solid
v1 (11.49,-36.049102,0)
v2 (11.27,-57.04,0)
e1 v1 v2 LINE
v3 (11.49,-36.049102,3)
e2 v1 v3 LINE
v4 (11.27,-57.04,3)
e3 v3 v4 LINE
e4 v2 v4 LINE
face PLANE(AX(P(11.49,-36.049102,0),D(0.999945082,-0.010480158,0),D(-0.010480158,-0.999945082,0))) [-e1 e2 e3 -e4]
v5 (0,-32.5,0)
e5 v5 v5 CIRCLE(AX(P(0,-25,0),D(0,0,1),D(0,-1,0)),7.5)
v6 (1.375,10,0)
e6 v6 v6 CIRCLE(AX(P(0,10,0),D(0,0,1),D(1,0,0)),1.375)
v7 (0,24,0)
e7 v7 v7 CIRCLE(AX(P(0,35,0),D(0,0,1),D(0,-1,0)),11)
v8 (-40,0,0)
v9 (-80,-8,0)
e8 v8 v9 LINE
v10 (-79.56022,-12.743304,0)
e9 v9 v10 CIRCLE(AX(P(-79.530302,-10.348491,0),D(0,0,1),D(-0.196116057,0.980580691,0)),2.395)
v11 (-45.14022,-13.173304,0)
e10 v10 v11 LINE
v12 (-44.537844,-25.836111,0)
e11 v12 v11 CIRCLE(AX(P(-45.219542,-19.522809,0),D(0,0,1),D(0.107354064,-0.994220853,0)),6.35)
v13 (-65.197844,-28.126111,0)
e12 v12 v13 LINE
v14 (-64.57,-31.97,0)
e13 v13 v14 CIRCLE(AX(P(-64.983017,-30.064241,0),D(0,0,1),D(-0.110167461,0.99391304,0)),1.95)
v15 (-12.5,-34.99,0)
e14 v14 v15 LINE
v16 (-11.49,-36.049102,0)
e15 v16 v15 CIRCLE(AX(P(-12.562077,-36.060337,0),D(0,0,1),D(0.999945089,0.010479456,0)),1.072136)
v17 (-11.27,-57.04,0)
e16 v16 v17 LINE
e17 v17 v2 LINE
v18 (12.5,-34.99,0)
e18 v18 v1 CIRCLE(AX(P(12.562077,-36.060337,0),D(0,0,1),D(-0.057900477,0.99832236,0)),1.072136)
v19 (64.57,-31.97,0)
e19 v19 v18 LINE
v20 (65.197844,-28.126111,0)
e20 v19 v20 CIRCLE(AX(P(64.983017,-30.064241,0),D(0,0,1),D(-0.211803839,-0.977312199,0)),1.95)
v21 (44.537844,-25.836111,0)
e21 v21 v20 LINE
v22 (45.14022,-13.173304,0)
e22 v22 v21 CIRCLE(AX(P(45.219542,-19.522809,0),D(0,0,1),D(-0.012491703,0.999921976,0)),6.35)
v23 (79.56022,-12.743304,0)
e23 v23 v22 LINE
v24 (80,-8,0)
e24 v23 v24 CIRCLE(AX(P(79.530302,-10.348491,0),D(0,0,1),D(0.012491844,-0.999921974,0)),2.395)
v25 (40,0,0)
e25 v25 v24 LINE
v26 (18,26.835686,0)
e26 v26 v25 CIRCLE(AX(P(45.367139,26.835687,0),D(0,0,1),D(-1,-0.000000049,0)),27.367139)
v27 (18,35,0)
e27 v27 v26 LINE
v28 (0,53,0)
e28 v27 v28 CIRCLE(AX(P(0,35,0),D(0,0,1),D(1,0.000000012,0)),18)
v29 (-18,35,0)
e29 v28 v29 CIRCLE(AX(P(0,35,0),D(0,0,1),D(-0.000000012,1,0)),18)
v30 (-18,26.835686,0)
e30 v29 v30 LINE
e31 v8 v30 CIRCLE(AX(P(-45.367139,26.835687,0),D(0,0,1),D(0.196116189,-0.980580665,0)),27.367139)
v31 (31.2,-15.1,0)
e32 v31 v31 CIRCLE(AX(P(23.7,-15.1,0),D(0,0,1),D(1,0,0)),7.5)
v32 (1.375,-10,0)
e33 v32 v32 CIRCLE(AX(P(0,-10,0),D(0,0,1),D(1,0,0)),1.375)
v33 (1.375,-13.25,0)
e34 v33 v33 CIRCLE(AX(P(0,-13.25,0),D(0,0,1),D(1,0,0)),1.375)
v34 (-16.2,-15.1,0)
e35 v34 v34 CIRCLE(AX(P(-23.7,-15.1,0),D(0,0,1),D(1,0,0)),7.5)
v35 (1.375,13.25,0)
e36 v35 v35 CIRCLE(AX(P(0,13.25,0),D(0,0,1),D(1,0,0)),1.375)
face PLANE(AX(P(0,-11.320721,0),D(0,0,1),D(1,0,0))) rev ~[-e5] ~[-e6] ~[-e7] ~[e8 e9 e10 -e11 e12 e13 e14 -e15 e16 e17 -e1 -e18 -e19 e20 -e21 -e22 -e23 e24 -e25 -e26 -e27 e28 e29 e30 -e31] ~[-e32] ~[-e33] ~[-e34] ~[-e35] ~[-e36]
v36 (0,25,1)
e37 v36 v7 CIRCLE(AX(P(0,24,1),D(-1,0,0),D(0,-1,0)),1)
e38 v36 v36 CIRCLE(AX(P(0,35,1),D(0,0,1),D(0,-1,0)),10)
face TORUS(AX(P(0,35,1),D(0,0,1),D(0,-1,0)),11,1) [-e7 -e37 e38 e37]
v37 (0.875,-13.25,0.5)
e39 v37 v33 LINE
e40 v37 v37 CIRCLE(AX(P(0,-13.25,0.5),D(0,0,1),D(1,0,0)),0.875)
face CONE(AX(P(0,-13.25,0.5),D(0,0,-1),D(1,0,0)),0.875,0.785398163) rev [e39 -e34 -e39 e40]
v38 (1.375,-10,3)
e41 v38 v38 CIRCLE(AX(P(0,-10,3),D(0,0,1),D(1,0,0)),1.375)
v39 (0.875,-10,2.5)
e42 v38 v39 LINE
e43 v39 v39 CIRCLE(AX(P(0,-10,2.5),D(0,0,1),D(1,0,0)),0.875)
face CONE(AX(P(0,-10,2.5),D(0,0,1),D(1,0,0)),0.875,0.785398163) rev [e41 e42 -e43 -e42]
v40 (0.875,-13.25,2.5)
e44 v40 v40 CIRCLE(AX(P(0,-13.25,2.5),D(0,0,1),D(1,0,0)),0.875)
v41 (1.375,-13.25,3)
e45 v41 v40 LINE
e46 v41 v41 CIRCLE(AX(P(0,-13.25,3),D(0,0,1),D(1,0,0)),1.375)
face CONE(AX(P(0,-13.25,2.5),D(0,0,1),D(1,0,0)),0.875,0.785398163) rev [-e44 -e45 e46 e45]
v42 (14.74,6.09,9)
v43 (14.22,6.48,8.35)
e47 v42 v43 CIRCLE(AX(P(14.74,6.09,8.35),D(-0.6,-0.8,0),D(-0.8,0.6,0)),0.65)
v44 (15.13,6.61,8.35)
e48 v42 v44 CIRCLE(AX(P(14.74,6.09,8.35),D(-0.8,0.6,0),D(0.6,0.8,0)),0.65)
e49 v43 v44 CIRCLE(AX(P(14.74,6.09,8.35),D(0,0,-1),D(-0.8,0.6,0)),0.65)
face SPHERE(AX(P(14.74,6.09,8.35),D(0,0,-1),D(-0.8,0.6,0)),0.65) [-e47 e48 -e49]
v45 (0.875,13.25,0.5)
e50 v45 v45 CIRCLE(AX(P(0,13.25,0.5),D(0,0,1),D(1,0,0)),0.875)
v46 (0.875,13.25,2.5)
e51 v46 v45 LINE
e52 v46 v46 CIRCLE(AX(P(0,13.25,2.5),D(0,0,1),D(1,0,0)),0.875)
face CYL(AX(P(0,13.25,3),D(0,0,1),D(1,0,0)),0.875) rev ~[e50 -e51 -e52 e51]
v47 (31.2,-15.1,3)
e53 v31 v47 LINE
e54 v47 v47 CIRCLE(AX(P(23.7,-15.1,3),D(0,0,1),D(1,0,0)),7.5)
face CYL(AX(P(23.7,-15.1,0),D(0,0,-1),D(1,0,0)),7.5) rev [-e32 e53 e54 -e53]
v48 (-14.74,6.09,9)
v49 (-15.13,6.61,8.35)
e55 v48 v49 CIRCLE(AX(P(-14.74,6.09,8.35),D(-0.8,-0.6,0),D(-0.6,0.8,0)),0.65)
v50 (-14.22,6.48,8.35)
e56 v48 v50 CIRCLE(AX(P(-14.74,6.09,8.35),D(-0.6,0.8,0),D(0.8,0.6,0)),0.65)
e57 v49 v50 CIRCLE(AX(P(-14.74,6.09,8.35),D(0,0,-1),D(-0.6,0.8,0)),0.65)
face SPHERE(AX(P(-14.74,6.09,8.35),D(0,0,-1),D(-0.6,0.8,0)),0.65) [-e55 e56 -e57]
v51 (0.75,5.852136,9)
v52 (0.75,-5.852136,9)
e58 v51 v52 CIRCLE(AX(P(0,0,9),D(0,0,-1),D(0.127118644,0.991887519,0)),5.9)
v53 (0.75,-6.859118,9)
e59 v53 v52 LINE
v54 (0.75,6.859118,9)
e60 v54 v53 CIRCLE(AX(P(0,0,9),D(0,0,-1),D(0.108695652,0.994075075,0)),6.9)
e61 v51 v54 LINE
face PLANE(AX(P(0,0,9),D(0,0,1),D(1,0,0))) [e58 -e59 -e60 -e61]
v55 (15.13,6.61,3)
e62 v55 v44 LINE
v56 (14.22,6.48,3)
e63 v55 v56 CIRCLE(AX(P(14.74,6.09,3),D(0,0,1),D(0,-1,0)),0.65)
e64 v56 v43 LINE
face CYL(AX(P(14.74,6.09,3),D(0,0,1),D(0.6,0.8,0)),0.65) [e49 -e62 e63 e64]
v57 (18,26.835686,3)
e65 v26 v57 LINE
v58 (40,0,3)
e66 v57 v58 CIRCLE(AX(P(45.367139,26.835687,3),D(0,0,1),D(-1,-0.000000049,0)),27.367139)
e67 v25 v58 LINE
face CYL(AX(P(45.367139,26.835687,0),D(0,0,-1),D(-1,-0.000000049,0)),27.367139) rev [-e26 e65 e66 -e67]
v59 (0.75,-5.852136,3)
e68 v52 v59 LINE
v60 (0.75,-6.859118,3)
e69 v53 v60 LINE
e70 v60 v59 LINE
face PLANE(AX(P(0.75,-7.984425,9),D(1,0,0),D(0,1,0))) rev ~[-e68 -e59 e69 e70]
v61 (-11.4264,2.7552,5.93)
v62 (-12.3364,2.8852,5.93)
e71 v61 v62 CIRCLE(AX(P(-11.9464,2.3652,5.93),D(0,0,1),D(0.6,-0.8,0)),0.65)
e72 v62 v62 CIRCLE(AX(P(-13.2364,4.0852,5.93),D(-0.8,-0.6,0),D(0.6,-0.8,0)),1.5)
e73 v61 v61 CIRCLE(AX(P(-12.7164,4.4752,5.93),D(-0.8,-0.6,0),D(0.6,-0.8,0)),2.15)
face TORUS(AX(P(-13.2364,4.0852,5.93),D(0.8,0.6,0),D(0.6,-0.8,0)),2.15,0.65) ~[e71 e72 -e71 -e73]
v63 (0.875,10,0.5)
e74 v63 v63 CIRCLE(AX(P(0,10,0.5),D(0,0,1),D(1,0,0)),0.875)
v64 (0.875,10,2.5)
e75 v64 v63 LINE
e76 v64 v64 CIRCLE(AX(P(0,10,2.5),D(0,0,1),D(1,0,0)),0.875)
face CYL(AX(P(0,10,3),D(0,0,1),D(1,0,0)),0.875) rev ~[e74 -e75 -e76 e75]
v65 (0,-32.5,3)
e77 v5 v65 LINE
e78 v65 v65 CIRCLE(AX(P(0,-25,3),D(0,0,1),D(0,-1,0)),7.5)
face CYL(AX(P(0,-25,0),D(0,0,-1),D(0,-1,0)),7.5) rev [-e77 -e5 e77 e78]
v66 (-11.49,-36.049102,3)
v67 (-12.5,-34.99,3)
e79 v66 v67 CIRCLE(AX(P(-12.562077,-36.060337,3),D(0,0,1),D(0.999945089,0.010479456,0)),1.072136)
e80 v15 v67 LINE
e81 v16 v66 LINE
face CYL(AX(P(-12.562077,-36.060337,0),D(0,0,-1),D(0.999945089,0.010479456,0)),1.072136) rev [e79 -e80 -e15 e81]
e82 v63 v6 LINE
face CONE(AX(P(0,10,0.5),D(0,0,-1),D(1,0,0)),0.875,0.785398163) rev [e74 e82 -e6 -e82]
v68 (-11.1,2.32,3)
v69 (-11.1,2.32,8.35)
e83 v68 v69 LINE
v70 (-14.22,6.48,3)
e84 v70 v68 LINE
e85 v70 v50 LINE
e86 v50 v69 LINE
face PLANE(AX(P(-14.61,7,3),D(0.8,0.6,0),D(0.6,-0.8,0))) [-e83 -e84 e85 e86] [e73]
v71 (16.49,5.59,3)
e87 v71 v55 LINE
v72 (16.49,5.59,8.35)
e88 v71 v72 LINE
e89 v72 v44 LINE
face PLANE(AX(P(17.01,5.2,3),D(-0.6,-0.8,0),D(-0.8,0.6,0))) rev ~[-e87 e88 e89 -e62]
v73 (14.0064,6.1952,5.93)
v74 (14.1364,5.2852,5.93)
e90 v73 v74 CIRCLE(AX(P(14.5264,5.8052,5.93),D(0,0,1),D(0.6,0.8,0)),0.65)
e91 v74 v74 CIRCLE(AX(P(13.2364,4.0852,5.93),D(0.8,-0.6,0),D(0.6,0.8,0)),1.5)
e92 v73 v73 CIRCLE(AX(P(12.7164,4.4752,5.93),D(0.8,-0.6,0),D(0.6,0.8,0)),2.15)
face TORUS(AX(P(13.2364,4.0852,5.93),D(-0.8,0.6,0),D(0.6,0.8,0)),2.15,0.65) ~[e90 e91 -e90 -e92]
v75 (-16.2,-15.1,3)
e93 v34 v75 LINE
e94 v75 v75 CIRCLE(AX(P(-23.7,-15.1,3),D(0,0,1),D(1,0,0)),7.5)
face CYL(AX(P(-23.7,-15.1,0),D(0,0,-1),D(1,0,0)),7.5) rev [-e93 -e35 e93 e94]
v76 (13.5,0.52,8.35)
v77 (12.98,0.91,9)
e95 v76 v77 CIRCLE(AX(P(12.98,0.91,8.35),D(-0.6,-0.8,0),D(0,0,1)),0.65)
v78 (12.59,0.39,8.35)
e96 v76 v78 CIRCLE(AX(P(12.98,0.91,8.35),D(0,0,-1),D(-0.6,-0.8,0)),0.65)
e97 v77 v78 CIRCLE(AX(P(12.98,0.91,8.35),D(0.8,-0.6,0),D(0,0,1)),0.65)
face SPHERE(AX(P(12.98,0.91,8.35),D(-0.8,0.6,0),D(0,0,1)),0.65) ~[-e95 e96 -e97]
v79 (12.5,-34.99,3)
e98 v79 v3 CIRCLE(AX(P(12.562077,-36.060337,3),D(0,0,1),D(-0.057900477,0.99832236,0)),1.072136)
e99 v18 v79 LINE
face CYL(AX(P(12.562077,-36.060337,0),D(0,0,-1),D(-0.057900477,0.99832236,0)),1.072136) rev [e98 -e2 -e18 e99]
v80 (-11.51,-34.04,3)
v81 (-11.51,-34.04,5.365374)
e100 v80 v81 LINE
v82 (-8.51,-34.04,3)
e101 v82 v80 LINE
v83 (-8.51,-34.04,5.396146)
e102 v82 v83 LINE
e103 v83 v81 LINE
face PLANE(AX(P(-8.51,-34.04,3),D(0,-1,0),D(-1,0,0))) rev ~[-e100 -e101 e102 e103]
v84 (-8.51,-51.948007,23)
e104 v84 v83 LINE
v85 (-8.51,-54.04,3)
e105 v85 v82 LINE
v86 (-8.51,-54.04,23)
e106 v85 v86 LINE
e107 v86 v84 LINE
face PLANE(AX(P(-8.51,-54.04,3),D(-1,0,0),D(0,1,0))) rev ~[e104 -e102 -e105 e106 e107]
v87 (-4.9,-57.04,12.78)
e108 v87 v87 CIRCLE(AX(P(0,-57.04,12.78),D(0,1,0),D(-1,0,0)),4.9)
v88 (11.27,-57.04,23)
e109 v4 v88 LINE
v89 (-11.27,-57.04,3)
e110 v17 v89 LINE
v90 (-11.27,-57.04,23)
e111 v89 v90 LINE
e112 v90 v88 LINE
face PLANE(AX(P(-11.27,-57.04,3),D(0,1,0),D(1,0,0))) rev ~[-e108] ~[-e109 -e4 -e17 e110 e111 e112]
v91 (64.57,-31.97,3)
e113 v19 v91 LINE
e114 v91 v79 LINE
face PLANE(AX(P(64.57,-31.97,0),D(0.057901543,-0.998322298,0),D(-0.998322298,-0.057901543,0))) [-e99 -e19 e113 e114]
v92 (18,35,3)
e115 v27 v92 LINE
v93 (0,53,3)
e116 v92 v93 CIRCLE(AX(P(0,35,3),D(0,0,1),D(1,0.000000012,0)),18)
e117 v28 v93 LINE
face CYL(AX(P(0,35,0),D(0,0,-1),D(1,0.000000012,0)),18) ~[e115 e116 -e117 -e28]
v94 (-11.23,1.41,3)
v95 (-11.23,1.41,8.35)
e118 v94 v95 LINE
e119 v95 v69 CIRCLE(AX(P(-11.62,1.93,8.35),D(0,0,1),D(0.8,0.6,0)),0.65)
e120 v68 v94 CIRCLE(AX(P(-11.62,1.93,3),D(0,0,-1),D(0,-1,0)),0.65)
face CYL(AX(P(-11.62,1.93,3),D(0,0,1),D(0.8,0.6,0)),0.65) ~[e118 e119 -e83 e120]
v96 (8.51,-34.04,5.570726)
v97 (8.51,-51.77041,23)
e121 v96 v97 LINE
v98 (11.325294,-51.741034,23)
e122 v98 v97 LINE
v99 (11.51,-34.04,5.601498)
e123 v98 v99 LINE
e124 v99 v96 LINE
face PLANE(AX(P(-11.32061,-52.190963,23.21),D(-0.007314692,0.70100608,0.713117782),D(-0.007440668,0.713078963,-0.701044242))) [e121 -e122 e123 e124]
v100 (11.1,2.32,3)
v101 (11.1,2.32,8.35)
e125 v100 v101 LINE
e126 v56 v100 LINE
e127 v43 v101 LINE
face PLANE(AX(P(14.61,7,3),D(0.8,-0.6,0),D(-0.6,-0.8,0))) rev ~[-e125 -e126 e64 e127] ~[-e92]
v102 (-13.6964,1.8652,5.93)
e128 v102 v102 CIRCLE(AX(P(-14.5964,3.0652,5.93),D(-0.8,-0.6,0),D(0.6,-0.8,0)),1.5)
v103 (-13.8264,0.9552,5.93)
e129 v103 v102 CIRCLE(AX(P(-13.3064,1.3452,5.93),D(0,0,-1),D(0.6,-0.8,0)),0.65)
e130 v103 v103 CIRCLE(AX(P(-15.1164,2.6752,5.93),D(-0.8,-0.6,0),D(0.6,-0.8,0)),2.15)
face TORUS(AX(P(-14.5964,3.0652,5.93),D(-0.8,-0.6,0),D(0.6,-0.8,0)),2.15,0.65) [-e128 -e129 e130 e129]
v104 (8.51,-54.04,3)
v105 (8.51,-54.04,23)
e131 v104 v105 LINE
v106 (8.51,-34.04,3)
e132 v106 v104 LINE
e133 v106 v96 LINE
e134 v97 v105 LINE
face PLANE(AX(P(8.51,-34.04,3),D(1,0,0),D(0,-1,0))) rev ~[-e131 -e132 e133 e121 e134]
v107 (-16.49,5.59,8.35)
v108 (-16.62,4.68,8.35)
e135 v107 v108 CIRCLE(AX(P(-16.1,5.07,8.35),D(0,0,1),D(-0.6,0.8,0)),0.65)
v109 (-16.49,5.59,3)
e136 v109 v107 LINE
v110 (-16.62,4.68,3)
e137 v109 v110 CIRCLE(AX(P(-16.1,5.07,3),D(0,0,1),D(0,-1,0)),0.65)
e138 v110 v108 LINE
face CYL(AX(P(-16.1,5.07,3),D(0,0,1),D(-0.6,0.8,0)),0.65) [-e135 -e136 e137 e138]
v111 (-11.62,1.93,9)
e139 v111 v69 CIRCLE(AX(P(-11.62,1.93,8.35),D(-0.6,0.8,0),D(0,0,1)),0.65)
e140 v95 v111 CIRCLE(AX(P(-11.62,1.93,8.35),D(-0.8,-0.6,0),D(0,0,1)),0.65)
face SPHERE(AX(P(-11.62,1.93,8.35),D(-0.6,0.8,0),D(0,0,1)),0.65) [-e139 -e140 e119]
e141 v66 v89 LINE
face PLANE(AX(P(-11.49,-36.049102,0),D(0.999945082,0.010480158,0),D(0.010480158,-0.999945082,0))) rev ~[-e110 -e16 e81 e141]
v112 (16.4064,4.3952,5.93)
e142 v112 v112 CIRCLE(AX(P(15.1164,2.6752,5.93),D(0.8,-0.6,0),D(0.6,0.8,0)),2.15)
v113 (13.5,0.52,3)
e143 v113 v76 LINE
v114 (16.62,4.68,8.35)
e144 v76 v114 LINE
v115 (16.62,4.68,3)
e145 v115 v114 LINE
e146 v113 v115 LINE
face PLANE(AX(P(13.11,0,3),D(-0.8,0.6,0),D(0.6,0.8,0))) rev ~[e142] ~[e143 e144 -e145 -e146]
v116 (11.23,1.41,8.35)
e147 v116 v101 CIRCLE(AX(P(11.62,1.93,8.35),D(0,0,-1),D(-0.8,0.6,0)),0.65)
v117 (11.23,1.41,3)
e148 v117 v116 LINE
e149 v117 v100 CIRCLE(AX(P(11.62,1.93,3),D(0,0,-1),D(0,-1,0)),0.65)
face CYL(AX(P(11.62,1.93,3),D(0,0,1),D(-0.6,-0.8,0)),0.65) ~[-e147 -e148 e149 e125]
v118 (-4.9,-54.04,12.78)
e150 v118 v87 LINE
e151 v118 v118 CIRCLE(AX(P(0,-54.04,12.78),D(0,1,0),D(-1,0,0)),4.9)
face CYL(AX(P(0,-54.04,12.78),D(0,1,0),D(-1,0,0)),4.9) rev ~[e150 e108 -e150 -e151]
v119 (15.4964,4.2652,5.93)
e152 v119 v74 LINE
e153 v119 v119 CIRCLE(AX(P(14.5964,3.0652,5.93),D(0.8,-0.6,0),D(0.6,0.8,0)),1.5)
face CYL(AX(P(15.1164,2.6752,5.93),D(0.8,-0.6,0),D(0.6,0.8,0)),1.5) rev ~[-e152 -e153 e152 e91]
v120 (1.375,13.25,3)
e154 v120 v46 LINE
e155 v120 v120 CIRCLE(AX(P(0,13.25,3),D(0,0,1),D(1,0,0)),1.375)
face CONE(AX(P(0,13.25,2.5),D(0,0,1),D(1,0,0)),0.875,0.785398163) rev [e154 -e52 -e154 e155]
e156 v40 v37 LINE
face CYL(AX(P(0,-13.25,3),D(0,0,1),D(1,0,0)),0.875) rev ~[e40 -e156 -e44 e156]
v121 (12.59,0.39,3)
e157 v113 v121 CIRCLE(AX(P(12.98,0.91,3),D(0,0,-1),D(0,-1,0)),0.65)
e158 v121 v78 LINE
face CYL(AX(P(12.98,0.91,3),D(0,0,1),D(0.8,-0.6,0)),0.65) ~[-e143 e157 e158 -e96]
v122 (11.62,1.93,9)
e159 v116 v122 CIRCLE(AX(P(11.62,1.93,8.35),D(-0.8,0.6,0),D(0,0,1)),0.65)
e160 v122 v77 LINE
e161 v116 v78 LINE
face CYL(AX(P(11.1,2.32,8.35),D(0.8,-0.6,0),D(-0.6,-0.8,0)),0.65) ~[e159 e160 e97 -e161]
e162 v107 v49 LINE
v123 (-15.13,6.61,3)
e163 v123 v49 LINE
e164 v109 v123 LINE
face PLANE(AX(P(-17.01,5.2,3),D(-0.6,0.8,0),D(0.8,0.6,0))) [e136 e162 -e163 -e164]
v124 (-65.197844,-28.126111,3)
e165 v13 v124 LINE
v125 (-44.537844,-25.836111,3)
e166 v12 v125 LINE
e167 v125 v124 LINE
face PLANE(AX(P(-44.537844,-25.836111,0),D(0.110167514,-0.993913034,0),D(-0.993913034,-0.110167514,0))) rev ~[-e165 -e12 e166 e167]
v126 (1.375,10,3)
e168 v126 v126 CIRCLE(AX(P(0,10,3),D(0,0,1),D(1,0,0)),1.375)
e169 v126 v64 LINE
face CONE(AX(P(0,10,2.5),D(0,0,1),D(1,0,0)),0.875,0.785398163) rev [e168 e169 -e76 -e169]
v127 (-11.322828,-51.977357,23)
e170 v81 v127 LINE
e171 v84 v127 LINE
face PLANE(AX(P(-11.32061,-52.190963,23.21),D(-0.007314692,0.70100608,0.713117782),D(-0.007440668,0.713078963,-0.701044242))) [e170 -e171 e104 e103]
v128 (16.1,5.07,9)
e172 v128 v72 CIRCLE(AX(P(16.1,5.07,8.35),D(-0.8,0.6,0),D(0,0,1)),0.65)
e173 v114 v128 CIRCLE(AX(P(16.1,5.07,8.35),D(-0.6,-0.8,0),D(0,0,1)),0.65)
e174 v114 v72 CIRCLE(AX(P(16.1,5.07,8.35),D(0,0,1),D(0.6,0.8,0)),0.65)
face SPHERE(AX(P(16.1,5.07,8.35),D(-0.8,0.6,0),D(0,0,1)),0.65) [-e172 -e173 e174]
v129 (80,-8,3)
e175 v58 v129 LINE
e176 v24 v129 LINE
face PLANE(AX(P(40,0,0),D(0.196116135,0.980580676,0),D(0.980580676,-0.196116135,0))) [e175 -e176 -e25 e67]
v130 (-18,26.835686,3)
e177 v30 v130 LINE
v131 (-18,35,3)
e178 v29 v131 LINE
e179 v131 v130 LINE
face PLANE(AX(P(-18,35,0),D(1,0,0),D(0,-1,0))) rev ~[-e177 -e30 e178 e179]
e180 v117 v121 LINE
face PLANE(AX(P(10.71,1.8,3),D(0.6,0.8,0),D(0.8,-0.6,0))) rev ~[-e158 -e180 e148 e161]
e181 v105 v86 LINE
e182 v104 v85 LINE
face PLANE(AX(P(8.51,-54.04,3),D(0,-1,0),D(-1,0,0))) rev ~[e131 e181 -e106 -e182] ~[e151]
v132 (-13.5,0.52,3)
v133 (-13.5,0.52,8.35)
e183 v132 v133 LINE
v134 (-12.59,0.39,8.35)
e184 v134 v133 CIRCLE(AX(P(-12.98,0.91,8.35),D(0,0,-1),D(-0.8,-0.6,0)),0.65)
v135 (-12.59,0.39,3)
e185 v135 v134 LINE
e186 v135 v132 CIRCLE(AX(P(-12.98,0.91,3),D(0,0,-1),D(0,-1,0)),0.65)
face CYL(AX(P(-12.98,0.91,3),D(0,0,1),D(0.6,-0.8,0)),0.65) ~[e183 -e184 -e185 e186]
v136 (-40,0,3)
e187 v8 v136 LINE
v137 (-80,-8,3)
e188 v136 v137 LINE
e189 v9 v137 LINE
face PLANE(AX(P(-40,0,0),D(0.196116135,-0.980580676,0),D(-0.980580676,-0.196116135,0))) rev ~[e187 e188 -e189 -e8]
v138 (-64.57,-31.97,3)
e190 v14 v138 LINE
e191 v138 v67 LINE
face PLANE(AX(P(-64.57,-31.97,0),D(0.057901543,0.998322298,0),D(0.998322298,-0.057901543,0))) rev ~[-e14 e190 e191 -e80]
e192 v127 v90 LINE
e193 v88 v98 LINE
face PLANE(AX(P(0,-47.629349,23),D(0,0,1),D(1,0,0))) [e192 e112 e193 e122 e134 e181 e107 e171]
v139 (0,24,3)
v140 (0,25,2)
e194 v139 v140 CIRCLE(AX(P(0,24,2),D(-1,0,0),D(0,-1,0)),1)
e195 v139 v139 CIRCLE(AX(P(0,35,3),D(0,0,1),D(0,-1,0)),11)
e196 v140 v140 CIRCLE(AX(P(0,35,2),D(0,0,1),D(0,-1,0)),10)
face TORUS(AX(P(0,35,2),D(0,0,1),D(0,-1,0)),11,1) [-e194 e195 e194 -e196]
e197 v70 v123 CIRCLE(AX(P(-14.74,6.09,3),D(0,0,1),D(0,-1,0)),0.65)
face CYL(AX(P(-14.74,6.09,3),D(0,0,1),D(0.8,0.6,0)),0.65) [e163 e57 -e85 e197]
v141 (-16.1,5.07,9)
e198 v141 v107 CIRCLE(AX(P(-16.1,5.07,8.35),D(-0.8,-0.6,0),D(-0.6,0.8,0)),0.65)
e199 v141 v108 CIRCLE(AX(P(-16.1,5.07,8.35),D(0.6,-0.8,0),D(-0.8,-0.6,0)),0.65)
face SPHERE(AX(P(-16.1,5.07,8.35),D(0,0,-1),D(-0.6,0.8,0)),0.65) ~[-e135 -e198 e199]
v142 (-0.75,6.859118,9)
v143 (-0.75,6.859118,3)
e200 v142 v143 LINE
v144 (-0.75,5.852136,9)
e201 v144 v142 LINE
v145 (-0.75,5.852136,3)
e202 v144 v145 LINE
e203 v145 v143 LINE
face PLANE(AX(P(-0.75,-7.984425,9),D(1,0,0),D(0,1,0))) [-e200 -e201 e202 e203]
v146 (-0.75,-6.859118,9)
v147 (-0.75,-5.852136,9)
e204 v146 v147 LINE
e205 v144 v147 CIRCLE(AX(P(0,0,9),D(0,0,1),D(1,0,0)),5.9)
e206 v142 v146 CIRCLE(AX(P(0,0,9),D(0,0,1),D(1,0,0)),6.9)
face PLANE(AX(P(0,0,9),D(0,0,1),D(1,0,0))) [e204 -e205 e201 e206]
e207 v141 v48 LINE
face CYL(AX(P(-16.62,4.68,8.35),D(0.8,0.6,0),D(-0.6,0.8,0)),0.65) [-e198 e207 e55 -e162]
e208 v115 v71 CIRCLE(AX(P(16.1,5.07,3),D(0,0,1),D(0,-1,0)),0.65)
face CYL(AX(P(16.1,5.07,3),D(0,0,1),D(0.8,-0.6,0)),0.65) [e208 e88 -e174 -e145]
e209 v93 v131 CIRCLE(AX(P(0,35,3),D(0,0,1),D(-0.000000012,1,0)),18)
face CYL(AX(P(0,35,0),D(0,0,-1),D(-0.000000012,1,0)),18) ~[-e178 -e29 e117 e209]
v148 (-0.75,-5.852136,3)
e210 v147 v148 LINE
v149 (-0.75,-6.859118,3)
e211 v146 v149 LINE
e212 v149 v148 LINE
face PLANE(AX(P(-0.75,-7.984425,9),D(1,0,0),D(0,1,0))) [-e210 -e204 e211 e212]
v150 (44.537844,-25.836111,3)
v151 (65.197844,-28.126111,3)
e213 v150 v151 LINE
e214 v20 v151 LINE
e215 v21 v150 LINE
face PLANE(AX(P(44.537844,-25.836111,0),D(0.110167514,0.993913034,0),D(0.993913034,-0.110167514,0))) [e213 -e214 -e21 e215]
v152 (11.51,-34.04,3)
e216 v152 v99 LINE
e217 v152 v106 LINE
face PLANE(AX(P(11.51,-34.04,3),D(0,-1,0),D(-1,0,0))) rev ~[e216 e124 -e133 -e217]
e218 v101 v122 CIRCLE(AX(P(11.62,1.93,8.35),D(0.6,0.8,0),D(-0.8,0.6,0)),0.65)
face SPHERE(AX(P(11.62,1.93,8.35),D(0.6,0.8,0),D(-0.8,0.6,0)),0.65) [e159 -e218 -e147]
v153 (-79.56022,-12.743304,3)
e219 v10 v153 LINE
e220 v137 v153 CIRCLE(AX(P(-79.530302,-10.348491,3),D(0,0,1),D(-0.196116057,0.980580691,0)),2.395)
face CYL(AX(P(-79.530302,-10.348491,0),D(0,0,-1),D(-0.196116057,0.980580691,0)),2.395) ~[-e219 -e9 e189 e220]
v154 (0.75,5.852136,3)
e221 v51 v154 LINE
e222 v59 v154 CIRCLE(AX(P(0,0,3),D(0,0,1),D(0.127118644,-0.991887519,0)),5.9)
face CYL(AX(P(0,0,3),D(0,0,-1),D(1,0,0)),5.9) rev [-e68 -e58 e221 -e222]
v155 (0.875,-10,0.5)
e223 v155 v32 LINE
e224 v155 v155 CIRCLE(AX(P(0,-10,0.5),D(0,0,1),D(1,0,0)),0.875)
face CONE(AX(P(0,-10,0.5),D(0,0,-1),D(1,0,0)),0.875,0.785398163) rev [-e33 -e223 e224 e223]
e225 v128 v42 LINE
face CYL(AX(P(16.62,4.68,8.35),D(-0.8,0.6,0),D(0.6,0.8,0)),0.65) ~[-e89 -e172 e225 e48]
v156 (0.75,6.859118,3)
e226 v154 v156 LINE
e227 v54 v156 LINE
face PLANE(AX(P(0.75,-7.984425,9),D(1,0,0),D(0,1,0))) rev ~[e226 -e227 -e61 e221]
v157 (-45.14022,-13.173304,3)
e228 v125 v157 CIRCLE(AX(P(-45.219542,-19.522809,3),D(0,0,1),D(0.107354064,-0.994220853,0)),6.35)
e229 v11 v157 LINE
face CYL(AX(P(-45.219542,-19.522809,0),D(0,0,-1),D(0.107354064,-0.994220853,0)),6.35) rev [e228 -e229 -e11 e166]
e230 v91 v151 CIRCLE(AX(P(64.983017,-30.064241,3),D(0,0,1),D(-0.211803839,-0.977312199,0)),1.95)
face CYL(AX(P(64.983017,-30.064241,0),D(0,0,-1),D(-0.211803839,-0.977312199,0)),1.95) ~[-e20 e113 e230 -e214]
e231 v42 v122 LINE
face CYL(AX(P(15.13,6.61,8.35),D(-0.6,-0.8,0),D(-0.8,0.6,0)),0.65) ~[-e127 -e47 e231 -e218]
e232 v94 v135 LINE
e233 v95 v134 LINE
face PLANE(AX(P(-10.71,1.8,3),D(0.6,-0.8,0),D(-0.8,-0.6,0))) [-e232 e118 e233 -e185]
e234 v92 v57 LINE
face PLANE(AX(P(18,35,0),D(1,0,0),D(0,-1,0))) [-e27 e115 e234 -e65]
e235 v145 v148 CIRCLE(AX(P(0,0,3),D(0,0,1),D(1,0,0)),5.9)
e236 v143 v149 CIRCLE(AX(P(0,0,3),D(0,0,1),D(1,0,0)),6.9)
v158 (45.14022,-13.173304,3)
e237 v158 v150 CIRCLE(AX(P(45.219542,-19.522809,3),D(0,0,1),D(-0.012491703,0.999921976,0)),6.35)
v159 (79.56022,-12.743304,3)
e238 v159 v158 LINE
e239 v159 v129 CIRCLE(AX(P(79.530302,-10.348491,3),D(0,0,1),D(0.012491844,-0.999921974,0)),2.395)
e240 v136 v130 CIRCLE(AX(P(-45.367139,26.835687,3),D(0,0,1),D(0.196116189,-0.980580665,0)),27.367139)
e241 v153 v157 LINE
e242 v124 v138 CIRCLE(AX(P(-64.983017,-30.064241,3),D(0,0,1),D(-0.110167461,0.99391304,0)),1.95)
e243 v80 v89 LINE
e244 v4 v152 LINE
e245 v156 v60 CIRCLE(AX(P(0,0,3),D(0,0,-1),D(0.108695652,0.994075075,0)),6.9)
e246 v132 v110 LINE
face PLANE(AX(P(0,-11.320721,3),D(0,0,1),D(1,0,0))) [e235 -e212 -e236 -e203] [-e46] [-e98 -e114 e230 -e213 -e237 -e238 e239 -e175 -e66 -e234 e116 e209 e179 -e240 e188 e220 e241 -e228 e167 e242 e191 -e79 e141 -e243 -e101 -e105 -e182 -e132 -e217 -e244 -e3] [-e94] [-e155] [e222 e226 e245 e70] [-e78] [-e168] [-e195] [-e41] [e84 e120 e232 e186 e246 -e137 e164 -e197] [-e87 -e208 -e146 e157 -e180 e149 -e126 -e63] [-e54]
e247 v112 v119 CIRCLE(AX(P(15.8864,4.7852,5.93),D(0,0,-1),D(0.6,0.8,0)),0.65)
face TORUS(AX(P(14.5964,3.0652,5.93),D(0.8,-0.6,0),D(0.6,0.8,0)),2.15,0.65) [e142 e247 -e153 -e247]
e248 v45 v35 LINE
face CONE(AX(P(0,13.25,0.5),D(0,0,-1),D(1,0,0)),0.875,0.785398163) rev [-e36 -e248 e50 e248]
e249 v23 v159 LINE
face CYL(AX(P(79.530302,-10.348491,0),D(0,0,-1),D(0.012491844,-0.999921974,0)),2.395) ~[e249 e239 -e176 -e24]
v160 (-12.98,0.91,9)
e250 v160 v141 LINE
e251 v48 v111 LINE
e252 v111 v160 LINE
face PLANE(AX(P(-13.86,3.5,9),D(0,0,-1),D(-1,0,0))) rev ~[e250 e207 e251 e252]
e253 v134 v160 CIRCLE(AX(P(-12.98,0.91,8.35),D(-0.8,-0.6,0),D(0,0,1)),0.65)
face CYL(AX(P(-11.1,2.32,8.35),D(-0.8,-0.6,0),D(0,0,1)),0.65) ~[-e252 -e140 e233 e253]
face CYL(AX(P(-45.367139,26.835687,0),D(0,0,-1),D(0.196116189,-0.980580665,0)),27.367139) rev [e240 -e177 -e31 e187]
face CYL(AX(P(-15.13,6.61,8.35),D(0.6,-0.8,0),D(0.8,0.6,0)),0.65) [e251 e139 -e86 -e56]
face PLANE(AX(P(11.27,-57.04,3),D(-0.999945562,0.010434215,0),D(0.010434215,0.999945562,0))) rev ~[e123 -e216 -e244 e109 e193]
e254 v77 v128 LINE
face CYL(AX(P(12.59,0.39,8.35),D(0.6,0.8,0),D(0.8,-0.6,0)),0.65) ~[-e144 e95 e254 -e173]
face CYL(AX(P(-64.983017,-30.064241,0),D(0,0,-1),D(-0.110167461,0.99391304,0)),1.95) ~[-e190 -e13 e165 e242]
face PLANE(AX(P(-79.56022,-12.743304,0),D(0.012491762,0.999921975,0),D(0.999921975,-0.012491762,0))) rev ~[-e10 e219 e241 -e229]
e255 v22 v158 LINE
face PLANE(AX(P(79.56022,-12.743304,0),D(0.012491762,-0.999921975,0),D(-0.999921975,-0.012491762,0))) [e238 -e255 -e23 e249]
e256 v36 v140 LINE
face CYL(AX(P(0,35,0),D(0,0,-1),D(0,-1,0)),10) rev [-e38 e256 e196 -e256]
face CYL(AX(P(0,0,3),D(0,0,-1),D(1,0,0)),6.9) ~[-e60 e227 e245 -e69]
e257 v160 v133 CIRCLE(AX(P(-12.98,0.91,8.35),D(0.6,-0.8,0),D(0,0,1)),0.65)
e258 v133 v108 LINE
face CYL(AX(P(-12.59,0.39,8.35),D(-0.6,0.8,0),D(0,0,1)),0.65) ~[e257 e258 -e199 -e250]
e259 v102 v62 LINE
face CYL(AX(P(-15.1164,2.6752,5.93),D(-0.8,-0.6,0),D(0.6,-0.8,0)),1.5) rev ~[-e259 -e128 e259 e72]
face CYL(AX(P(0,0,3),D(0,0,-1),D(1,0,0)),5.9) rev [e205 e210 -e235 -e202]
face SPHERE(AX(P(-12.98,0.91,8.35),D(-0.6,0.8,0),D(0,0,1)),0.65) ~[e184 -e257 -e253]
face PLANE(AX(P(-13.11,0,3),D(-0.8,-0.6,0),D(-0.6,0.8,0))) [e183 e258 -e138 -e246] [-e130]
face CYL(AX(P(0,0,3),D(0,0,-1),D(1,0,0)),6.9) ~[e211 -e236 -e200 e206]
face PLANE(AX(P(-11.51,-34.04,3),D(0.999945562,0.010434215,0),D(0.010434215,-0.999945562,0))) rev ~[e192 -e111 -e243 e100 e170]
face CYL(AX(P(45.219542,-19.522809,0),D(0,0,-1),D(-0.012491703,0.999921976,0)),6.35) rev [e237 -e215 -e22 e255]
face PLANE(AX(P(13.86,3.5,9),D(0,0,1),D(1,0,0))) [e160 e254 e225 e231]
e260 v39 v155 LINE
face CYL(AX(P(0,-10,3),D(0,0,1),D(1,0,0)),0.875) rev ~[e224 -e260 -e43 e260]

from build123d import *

# Parameters (mm, degrees)
SKETCH001_R     = 7.5
PAD_DEPTH       = 3
SKETCH_R        = 6.9
SKETCH_R_2      = 5.9
PAD001_DEPTH    = 6
SKETCH002_W     = 1.5
SKETCH002_H     = 15.96885
POCKET_DEPTH    = 6
SKETCH003_R     = 0.875
POCKET001_DEPTH = 3
PAD002_DEPTH    = 6
SKETCH006_R     = 1.5
POCKET002_DEPTH = 5
SKETCH007_R     = 1.5
POCKET003_DEPTH = 5
PAD003_DEPTH    = 20
POCKET004_DEPTH = 94.339409
SKETCH010_R     = 4.9
POCKET005_DEPTH = 5
FILLET_R        = 0.65
FILLET001_R     = 0.65
CHAMFER_SIZE    = 0.5
FILLET002_R     = 1


with BuildPart() as part:
    # Sketch001 → Pad (new body)
    with BuildSketch(Plane.XY):
        with BuildLine():
            ThreePointArc((0, 53), (-12.727922, 47.727922), (-18, 35))
            Line((-18, 35), (-18, 26.835686))
            ThreePointArc((-40, 0), (-24.202977, 9.485225), (-18, 26.835686))
            Line((-40, 0), (-80, -8))
            ThreePointArc((-80, -8), (-81.915074, -10.569597), (-79.56022, -12.743304))
            Line((-79.56022, -12.743304), (-45.14022, -13.173304))
            ThreePointArc((-44.537844, -25.836111), (-38.876715, -19.221077), (-45.14022, -13.173304))
            Line((-44.537844, -25.836111), (-65.197844, -28.126111))
            ThreePointArc((-65.197844, -28.126111), (-66.907515, -30.37858), (-64.57, -31.97))
            Line((-64.57, -31.97), (-12.5, -34.99))
            ThreePointArc((-11.49, -36.049102), (-11.78619, -35.320422), (-12.5, -34.99))
            Line((-11.49, -36.049102), (-11.27, -57.04))
            Line((-11.27, -57.04), (0, -57.04))
            Line((11.27, -57.04), (0, -57.04))
            Line((11.49, -36.049102), (11.27, -57.04))
            ThreePointArc((12.5, -34.99), (11.78619, -35.320422), (11.49, -36.049102))
            Line((64.57, -31.97), (12.5, -34.99))
            ThreePointArc((64.57, -31.97), (66.907515, -30.37858), (65.197844, -28.126111))
            Line((44.537844, -25.836111), (65.197844, -28.126111))
            ThreePointArc((45.14022, -13.173304), (38.876715, -19.221077), (44.537844, -25.836111))
            Line((79.56022, -12.743304), (45.14022, -13.173304))
            ThreePointArc((79.56022, -12.743304), (81.915074, -10.569597), (80, -8))
            Line((40, 0), (80, -8))
            ThreePointArc((18, 26.835686), (24.202977, 9.485225), (40, 0))
            Line((18, 35), (18, 26.835686))
            ThreePointArc((18, 35), (12.727922, 47.727922), (0, 53))
        make_face()
        with Locations((-23.7, -15.1)):
            Circle(SKETCH001_R, mode=Mode.SUBTRACT)
        with Locations((23.7, -15.1)):
            Circle(SKETCH001_R, mode=Mode.SUBTRACT)
        with BuildLine():
            ThreePointArc((0, 45), (-10, 35), (0, 25))
            ThreePointArc((0, 25), (10, 35), (0, 45))
        make_face(mode=Mode.SUBTRACT)
        with BuildLine():
            ThreePointArc((0, -17.5), (-7.5, -25), (0, -32.5))
            ThreePointArc((0, -32.5), (7.5, -25), (0, -17.5))
        make_face(mode=Mode.SUBTRACT)
    extrude(amount=PAD_DEPTH)

    # Sketch (on Face34 of Pad) → Pad001 (join)
    with BuildSketch(Plane.XY.offset(3)):
        Circle(SKETCH_R)
        Circle(SKETCH_R_2, mode=Mode.SUBTRACT)
    extrude(amount=PAD001_DEPTH)

    # Sketch002 (on Face36 of Pad001) → Pocket (cut)
    with BuildSketch(Plane.XY.offset(9)):
        Rectangle(SKETCH002_W, SKETCH002_H)
    extrude(amount=-POCKET_DEPTH, mode=Mode.SUBTRACT)

    # Sketch003 (on Face5 of Pocket) → Pocket001 (cut)
    with BuildSketch(Plane.XY.offset(3)):
        with Locations((0, 10)):
            Circle(SKETCH003_R)
        with Locations((0, 13.25)):
            Circle(SKETCH003_R)
        with Locations((0, -10)):
            Circle(SKETCH003_R)
        with Locations((0, -13.25)):
            Circle(SKETCH003_R)
    extrude(amount=-POCKET001_DEPTH, mode=Mode.SUBTRACT)

    # Sketch005 → Pad002 (join)
    with BuildSketch(Plane.XY.offset(3)):
        Polygon((-13.11, 0), (-17.01, 5.2), (-14.61, 7), (-10.71, 1.8), align=None)
        Polygon((13.11, 0), (17.01, 5.2), (14.61, 7), (10.71, 1.8), align=None)
    extrude(amount=PAD002_DEPTH)

    # Sketch006 (on Face48 of Pad002) → Pocket002 (cut)
    with BuildSketch(Plane(origin=(8.3904, -6.2928, 0), x_dir=(0.6, 0.8, 0), z_dir=(0.8, -0.6, 0))):
        with Locations((11.21, 5.93)):
            Circle(SKETCH006_R)
    extrude(amount=-POCKET002_DEPTH, mode=Mode.SUBTRACT)

    # Sketch007 (on Face42 of Pocket002) → Pocket003 (cut)
    with BuildSketch(Plane(origin=(-8.3904, -6.2928, 0), x_dir=(0.6, -0.8, 0), z_dir=(-0.8, -0.6, 0))):
        with Locations((-11.21, 5.93)):
            Circle(SKETCH007_R)
    extrude(amount=-POCKET003_DEPTH, mode=Mode.SUBTRACT)

    # Sketch008 (on Face5 of Pocket003) → Pad003 (join)
    with BuildSketch(Plane.XY.offset(3)):
        Polygon((-11.27, -57.04), (11.27, -57.04), (11.51, -34.04), (8.51, -34.04), (8.51, -54.04), (-8.51, -54.04), (-8.51, -34.04), (-11.51, -34.04), align=None)
    extrude(amount=PAD003_DEPTH)

    # Sketch009 (on Face45 of Pad003) → Pocket004 (cut, through all)
    with BuildSketch(Plane(origin=(-11.863908, -0.123797, 0), x_dir=(0.010434, -0.999946, 0), z_dir=(-0.999946, -0.010434, 0))):
        Polygon((33.76, 5.21), (33.76, 23.21), (52.07, 23.21), align=None)
    extrude(amount=-POCKET004_DEPTH, mode=Mode.SUBTRACT)

    # Sketch010 (on Face42 of Pocket004) → Pocket005 (cut)
    with BuildSketch(Plane(origin=(0, -54.04, 0), x_dir=(-1, 0, 0), z_dir=(0, 1, 0))):
        with Locations((0, 12.78)):
            Circle(SKETCH010_R)
    extrude(amount=-POCKET005_DEPTH, mode=Mode.SUBTRACT)

    # Fillet
    fillet_edges = [part.edges().sort_by_distance(p)[0] for p in [
        (14.2164, 1.4752, 5.93),
        (-13.6164, 5.6752, 5.93),
        (11.8164, 3.2752, 5.93),
        (-16.0164, 3.8752, 5.93),
    ]]
    fillet(fillet_edges, radius=FILLET_R)

    # Fillet001
    fillet001_edges = [part.edges().sort_by_distance(p)[0] for p in [
        (14.61, 7, 6),
        (12.66, 4.4, 9),
        (10.71, 1.8, 6),
        (11.91, 0.9, 9),
        (15.81, 6.1, 9),
        (-14.61, 7, 6),
        (-17.01, 5.2, 6),
        (-15.81, 6.1, 9),
        (-15.06, 2.6, 9),
        (-12.66, 4.4, 9),
        (-11.91, 0.9, 9),
        (-13.11, 0, 6),
        (15.06, 2.6, 9),
        (13.11, 0, 6),
        (-10.71, 1.8, 6),
        (17.01, 5.2, 6),
    ]]
    fillet(fillet001_edges, radius=FILLET001_R)

    # Chamfer
    chamfer_edges = [part.edges().sort_by_distance(p)[0] for p in [
        (-0.875, 13.25, 3),
        (-0.875, 10, 3),
        (-0.875, -10, 3),
        (-0.875, -13.25, 3),
        (-0.875, -13.25, 0),
        (-0.875, -10, 0),
        (-0.875, 10, 0),
        (-0.875, 13.25, 0),
    ]]
    chamfer(chamfer_edges, length=CHAMFER_SIZE)

    # Fillet002
    fillet002_edges = [part.edges().sort_by_distance(p)[0] for p in [
        (-10, 35, 3),
        (10, 35, 3),
        (-10, 35, 0),
        (10, 35, 0),
    ]]
    fillet(fillet002_edges, radius=FILLET002_R)


solid = part.part
